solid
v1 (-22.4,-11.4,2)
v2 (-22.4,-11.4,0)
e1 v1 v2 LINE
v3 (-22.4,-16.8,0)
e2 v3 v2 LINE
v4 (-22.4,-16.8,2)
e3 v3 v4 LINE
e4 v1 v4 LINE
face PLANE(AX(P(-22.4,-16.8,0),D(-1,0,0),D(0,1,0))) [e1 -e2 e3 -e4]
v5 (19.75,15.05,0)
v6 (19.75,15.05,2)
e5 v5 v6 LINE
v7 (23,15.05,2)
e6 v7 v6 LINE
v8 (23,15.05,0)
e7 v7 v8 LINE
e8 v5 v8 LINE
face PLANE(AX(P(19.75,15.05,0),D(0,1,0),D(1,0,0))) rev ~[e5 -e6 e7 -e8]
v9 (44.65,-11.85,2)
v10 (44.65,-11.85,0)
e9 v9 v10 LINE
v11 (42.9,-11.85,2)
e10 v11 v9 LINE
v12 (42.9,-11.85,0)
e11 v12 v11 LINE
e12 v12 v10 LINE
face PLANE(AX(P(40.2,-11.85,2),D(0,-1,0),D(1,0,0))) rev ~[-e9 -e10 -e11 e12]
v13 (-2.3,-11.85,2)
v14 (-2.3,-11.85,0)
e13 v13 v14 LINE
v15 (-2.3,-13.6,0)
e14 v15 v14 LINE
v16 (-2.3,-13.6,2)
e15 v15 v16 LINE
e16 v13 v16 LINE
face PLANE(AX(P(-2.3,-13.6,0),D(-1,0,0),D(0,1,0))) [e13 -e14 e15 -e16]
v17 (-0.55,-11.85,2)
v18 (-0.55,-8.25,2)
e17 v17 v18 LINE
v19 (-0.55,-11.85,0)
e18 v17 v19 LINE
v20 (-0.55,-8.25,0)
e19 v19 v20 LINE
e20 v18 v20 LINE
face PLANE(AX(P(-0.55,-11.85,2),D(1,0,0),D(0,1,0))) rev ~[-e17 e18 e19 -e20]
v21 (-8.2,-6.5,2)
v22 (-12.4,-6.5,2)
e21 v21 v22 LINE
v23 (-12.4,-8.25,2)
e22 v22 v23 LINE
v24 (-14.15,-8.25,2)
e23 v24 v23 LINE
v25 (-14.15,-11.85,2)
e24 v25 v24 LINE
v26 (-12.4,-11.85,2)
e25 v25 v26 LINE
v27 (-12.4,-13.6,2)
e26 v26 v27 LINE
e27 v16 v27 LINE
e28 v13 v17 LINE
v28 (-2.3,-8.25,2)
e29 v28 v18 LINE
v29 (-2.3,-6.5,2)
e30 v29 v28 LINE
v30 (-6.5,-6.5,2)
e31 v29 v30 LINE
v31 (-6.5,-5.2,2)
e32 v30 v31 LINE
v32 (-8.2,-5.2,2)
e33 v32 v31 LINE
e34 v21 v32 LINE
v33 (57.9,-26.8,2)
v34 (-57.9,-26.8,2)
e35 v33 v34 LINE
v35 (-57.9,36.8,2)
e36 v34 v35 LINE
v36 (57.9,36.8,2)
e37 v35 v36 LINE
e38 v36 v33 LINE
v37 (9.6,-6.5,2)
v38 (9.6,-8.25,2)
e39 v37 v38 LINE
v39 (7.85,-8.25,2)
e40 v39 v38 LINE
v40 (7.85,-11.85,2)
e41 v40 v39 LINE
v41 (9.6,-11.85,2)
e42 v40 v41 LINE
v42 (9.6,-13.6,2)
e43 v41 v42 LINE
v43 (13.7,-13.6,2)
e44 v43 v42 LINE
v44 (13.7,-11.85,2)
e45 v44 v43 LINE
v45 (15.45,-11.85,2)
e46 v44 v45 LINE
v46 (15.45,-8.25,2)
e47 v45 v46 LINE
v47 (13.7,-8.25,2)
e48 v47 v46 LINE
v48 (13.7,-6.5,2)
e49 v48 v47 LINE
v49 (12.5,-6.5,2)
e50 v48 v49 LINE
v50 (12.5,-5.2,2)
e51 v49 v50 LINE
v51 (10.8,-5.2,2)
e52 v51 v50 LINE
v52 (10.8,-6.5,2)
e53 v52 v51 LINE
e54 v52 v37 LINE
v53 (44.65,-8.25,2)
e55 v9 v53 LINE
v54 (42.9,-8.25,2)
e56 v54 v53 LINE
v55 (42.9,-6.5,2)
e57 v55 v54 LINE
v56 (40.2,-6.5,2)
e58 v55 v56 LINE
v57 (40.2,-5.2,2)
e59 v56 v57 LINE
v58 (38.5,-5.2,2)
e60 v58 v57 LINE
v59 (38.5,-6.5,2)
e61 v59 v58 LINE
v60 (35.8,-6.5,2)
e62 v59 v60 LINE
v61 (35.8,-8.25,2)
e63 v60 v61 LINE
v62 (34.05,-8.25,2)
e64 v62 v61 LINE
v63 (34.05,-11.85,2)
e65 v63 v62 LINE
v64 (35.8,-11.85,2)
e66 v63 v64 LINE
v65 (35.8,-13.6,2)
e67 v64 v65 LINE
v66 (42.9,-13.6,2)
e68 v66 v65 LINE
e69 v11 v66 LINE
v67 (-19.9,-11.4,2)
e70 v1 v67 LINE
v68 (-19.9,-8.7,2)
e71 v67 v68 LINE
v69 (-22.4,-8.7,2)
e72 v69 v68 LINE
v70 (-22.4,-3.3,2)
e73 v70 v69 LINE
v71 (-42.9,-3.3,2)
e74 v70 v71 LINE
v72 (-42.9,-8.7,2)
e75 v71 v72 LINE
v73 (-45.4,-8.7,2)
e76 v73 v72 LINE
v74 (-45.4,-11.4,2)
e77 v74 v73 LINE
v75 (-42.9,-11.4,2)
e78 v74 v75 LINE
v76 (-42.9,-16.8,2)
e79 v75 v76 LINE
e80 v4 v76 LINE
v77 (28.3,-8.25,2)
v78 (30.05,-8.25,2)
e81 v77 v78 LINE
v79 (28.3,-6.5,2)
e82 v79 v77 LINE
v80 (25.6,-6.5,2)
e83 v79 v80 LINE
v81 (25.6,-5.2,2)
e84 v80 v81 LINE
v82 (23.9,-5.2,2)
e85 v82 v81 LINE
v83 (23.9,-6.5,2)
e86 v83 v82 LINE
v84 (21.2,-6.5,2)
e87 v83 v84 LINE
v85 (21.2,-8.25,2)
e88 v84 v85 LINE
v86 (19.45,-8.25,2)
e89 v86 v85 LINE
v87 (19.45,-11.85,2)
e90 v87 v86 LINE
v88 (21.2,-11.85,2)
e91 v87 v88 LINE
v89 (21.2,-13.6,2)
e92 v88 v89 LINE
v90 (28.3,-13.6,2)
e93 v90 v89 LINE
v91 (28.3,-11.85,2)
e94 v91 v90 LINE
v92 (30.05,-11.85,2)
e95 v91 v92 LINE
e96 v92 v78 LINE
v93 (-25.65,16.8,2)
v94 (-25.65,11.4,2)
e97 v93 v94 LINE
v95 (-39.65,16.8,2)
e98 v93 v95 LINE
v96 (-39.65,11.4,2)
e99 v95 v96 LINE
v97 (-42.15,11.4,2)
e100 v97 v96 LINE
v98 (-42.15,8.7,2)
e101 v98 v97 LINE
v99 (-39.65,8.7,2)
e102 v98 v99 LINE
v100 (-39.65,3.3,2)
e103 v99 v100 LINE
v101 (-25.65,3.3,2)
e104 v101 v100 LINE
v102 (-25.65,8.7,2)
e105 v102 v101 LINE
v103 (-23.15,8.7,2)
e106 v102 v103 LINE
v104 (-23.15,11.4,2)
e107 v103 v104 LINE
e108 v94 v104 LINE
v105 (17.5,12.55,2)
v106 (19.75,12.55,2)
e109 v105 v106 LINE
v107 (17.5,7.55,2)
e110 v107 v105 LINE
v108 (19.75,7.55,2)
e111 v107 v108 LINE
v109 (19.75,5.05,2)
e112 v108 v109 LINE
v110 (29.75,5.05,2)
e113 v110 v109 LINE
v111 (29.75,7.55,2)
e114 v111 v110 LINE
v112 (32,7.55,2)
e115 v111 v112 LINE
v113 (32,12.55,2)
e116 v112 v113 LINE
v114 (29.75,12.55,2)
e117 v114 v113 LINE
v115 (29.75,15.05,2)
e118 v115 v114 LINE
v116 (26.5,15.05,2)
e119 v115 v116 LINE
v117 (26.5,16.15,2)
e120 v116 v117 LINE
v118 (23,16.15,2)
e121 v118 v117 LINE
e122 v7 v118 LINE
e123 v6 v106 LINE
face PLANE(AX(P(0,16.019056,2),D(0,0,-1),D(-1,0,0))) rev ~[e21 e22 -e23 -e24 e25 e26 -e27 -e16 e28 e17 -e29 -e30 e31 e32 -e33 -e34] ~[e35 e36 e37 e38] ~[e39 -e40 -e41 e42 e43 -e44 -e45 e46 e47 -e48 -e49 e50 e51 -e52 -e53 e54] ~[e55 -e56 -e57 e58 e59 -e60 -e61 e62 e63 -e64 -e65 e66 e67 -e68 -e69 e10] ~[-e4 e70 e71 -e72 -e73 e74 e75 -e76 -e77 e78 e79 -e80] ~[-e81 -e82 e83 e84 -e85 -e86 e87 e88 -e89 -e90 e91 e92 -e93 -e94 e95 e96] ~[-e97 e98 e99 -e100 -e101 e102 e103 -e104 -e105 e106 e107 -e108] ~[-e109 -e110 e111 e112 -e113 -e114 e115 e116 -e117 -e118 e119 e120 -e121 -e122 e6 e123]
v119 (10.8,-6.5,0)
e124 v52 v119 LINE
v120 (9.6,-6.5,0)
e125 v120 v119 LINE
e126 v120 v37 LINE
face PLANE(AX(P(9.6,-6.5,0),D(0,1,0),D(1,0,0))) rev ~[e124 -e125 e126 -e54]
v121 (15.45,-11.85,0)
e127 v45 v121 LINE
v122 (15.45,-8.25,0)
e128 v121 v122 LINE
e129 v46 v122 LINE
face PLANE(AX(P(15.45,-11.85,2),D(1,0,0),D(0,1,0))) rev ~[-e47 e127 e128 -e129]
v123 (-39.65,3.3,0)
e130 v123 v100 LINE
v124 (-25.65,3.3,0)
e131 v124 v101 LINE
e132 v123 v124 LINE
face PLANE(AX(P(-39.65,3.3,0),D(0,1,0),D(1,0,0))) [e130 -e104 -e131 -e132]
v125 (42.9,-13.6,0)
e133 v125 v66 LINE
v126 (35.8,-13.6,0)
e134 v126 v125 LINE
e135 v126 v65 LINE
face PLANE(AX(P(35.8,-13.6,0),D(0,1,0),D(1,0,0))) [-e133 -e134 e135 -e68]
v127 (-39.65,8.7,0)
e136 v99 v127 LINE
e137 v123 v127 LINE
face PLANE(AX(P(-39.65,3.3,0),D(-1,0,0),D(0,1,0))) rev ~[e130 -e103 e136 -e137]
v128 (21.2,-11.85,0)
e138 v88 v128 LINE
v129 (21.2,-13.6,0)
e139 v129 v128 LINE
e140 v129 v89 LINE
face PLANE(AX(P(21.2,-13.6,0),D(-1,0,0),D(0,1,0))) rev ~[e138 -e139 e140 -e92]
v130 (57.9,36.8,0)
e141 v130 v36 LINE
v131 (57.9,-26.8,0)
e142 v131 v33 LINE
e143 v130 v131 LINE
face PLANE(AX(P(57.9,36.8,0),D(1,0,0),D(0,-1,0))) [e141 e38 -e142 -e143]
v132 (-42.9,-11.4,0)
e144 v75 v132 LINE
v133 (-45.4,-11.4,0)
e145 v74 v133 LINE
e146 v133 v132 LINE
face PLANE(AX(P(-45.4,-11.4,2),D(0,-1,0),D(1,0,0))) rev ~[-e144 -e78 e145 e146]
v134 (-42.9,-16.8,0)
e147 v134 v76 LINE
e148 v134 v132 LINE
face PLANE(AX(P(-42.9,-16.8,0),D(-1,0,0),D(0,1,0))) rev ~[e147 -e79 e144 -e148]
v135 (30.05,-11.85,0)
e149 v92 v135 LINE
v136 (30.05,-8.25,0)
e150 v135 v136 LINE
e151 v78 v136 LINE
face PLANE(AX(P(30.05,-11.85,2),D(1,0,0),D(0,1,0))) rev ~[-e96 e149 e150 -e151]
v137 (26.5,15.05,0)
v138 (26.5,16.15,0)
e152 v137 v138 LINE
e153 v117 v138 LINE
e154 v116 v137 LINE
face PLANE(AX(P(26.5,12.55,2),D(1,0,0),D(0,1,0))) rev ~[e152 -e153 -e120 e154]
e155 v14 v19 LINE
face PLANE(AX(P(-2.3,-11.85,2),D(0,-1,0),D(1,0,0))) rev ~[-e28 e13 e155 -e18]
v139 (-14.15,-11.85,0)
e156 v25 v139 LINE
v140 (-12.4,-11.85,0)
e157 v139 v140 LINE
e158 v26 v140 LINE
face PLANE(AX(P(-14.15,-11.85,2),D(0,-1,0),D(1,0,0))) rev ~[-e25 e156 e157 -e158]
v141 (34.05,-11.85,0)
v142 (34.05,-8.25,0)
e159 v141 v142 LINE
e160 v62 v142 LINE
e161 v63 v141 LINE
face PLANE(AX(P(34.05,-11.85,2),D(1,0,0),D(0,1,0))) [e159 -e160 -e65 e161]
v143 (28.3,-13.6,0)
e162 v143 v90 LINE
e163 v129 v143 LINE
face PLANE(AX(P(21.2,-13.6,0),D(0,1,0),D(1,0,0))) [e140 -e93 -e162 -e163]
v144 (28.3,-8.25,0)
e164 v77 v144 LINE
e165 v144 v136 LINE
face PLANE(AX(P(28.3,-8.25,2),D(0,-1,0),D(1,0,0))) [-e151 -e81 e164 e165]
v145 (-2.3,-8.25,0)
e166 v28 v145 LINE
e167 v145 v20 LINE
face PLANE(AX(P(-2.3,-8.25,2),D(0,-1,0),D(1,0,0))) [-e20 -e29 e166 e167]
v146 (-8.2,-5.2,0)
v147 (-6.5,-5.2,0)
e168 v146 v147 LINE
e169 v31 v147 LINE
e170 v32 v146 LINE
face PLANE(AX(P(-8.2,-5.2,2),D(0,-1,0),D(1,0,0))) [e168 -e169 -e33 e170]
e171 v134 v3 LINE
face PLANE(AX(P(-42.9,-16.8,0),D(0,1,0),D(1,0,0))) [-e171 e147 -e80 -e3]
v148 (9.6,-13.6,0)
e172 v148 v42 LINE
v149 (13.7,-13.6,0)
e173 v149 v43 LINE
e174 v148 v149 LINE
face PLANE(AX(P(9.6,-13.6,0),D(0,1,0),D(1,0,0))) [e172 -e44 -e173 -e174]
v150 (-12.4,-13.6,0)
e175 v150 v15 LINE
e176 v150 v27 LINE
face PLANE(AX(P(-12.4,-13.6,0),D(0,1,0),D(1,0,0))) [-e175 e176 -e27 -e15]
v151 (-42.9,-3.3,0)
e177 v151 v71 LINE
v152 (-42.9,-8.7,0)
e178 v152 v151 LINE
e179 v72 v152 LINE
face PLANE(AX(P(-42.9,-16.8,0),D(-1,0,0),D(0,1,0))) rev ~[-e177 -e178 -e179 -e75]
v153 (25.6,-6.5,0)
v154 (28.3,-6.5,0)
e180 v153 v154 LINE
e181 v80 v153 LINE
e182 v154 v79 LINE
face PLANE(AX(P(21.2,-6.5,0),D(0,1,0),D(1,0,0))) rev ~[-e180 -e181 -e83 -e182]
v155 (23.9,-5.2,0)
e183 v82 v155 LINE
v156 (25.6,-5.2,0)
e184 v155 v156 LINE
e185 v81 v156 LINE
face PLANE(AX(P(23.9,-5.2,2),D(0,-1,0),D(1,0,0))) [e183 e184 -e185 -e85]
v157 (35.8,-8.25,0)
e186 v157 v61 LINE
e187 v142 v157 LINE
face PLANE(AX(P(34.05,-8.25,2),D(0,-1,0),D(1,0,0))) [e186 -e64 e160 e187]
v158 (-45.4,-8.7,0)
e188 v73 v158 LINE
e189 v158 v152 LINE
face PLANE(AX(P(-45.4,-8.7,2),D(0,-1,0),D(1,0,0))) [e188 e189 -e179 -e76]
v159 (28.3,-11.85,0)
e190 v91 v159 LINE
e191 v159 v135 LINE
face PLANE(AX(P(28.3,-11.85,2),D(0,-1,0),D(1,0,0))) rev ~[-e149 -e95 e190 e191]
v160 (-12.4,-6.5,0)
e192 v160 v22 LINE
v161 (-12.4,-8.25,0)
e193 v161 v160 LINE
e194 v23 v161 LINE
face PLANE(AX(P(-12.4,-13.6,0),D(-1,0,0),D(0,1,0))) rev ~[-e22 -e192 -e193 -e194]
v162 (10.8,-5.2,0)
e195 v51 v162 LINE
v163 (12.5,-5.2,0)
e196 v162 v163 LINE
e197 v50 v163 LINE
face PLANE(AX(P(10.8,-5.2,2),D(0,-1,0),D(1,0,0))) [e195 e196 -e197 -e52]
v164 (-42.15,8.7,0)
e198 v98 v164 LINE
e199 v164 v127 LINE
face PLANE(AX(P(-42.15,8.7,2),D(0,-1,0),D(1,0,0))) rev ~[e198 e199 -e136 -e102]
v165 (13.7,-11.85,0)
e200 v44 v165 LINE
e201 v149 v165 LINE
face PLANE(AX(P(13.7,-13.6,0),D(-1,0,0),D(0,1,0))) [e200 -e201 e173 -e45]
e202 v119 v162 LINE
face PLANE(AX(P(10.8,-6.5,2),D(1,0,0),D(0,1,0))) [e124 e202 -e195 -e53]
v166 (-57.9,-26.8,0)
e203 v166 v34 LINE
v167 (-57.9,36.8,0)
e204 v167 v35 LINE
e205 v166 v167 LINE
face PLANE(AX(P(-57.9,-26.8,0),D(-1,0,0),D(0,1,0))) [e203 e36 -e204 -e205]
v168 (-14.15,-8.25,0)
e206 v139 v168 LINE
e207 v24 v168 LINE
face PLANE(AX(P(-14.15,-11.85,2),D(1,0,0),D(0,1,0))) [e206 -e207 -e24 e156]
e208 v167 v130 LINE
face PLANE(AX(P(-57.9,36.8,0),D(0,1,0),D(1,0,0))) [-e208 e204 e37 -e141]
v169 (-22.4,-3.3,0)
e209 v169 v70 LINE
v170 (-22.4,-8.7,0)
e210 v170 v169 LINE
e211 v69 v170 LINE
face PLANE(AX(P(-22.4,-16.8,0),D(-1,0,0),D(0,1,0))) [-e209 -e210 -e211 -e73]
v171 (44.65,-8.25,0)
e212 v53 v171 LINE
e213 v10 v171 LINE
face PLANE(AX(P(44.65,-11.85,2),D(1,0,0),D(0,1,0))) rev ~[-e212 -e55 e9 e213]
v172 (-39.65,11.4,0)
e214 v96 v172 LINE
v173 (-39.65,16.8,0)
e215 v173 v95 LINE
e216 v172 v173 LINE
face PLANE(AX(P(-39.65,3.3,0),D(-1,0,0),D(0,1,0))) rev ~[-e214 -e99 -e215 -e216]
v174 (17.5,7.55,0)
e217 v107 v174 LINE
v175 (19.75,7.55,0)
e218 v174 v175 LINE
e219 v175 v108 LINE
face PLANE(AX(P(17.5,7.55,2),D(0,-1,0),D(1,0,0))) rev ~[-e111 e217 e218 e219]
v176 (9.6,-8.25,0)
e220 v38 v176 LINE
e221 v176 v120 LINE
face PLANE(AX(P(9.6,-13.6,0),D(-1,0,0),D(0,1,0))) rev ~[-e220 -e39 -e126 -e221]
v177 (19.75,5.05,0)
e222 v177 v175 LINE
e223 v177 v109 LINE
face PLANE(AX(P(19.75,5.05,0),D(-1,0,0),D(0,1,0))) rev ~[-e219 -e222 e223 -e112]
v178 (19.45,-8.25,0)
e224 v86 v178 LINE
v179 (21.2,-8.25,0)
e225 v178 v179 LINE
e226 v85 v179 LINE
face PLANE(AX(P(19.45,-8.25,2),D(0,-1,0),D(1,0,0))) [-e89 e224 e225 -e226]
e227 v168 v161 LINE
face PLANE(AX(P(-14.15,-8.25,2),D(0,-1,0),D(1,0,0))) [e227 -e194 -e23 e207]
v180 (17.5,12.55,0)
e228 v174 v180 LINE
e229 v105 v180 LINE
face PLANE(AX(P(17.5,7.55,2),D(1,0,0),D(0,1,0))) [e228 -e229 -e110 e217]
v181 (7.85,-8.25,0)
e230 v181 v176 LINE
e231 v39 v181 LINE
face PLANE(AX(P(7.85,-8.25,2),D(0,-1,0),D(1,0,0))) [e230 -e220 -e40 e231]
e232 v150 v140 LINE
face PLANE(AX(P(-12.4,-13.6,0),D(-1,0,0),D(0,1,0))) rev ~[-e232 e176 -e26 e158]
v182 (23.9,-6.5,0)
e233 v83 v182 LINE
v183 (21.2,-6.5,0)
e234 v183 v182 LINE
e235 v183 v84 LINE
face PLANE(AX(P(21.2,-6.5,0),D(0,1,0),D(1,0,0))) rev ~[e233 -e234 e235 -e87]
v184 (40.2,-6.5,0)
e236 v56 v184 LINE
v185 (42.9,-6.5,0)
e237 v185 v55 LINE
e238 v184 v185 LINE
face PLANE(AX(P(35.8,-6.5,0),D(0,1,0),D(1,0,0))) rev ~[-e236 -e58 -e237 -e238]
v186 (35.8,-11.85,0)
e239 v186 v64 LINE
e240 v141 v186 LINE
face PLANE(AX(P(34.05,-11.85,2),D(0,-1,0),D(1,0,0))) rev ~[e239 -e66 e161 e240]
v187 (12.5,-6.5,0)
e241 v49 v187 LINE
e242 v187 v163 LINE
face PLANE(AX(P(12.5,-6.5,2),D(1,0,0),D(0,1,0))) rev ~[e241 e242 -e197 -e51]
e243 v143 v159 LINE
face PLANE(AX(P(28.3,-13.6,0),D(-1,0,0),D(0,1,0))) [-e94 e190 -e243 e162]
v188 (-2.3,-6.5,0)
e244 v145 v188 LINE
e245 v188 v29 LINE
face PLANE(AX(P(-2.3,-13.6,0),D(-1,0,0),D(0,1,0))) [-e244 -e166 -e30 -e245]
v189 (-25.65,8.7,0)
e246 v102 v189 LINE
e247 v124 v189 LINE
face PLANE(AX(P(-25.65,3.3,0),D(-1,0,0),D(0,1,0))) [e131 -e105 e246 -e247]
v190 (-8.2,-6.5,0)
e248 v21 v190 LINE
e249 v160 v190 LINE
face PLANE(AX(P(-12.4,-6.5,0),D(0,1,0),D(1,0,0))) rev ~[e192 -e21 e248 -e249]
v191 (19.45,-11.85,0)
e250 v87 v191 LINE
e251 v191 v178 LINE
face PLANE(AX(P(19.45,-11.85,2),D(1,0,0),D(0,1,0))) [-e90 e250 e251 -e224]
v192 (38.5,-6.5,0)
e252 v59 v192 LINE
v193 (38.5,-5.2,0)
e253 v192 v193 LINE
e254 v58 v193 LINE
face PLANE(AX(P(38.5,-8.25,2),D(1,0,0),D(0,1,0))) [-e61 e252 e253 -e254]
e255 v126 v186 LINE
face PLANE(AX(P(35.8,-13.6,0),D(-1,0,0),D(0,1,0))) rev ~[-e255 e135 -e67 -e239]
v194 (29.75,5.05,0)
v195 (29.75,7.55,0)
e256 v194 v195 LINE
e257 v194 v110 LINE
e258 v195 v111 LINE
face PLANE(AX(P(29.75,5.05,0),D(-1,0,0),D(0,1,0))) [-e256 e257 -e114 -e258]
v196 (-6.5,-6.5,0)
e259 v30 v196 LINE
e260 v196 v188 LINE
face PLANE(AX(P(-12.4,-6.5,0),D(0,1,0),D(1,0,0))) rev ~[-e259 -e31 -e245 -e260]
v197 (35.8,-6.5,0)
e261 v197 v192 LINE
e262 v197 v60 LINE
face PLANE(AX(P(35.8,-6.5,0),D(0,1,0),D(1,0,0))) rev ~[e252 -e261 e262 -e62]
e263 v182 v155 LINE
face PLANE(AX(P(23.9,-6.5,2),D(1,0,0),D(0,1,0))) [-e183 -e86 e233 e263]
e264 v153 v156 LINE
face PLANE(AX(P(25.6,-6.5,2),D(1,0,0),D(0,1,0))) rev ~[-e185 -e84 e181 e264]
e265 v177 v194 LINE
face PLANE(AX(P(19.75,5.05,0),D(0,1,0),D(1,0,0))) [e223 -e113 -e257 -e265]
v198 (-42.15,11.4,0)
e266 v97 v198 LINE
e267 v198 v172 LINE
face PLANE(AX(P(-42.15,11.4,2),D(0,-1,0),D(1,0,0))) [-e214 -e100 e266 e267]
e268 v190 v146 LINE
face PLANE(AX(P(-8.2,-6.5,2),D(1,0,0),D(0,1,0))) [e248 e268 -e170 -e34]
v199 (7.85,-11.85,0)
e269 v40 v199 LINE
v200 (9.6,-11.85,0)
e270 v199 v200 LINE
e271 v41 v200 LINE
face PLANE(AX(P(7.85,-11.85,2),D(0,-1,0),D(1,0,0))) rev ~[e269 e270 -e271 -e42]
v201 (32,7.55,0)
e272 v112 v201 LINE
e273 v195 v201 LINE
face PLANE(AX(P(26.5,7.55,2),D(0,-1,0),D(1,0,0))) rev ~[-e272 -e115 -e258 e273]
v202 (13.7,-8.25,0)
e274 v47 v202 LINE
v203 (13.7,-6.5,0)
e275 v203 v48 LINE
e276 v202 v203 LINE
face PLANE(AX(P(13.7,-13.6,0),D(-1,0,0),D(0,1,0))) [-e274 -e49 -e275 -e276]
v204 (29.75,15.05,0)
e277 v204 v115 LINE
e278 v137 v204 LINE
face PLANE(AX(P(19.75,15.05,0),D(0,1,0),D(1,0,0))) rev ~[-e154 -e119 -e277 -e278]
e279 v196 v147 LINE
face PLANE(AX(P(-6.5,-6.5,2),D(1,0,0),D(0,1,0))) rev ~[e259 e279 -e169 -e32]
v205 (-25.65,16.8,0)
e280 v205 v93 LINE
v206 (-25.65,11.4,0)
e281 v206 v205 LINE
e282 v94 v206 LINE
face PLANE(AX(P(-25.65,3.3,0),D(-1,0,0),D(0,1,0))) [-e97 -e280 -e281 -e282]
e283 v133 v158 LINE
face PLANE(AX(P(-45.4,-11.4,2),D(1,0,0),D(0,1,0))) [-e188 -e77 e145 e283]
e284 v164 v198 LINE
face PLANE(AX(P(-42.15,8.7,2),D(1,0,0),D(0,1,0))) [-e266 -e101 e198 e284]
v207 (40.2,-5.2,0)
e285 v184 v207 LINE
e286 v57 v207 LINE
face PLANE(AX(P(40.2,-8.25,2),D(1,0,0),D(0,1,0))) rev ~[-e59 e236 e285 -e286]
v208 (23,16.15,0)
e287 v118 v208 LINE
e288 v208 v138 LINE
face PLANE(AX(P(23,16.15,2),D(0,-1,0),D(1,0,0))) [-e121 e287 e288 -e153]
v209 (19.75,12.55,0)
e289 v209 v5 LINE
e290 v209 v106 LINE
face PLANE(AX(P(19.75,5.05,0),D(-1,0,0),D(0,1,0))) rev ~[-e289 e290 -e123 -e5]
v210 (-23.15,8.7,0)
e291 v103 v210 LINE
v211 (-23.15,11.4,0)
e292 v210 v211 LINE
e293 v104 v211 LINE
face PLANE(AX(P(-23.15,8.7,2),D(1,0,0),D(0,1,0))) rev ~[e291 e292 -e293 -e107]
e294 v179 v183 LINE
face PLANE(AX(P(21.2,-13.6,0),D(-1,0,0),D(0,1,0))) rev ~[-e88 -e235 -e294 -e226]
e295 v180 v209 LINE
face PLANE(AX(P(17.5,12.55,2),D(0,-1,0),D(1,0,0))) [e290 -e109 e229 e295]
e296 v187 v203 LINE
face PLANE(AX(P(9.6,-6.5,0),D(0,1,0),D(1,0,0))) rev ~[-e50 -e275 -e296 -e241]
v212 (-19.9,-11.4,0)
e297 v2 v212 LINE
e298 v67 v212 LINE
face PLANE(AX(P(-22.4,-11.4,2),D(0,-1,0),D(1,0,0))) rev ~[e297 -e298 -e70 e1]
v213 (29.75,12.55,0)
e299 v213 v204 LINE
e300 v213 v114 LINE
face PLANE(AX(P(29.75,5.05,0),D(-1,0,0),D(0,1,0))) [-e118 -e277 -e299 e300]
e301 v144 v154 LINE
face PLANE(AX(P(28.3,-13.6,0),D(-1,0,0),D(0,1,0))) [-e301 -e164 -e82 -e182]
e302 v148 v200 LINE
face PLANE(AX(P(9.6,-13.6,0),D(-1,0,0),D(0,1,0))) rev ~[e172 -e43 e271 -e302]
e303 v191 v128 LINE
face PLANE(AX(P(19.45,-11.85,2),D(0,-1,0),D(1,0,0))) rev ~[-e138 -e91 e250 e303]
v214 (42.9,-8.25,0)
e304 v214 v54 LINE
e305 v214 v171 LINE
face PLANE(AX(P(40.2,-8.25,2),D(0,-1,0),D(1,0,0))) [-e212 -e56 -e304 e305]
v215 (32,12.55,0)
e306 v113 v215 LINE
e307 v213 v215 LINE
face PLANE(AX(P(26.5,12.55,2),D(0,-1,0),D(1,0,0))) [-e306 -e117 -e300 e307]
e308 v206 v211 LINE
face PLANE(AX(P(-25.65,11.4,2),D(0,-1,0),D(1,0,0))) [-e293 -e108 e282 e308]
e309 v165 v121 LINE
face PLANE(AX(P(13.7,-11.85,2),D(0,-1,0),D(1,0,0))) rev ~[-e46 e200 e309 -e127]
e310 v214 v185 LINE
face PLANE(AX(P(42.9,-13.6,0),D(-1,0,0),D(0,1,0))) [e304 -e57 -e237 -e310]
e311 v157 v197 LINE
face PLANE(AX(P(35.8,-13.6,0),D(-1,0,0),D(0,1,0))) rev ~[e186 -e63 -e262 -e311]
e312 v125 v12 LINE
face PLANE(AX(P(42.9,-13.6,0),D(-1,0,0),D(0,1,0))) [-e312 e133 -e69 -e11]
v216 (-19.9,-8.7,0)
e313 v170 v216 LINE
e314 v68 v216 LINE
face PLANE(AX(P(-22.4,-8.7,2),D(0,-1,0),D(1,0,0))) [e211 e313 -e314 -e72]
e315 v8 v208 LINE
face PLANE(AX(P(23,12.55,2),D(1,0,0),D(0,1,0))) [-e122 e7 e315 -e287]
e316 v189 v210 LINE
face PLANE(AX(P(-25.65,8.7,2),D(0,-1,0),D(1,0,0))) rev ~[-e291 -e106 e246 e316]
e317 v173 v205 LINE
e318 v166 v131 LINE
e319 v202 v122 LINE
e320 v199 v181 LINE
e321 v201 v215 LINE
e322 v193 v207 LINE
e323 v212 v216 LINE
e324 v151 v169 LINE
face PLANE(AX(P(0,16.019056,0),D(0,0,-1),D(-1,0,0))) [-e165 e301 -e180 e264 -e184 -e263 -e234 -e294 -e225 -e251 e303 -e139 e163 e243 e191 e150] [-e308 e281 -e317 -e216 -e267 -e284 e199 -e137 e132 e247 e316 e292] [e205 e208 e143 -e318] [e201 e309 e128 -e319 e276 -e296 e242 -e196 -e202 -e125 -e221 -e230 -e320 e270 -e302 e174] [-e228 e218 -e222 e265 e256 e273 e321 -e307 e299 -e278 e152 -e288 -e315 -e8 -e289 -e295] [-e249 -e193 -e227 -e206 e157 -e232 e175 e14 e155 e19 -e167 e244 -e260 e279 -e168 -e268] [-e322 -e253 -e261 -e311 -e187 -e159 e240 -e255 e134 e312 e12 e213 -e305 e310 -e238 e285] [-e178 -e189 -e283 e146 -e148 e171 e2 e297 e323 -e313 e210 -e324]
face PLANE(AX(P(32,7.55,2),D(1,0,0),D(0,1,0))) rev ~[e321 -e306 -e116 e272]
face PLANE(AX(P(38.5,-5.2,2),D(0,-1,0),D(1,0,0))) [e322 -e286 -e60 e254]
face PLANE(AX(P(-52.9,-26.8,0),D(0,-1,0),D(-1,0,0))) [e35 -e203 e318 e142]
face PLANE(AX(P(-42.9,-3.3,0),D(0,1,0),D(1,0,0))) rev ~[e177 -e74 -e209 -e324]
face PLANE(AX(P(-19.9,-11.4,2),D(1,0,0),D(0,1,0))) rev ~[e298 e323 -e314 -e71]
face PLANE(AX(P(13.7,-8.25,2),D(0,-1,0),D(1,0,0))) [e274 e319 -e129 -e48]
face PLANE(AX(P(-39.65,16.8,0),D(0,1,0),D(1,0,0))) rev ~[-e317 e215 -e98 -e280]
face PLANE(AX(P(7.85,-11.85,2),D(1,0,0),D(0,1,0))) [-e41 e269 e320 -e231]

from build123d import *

# Parameters (mm, degrees)
SKETCH1_W           = 105.8
SKETCH1_H           = 53.6
BOSS_EXTRUDE1_DEPTH = 2
SKETCH2_W           = 4.1
SKETCH2_H           = 7.1
SKETCH2_W_2         = 20.5
SKETCH2_H_2         = 13.5
SKETCH2_W_3         = 10
SKETCH2_H_3         = 10
SKETCH2_W_4         = 7.1
SKETCH2_W_5         = 14
SKETCH2_W_6         = 10.1
CUT_EXTRUDE2_DEPTH  = 60.335065518
SKETCH4_W           = 2.5
SKETCH4_H           = 2.7
SKETCH4_W_2         = 1.75
SKETCH4_H_2         = 3.6
SKETCH4_W_3         = 1.7
SKETCH4_H_3         = 1.3
SKETCH4_W_4         = 10.6
SKETCH4_H_4         = 8.4
SKETCH4_W_5         = 3.5
SKETCH4_H_5         = 11.1
SKETCH4_W_6         = 14.5
SKETCH4_H_6         = 5
CUT_EXTRUDE5_DEPTH  = 10
BOSS_EXTRUDE2_DEPTH = 2


with BuildPart() as part:
    # Sketch1 → Boss-Extrude1 (new body)
    with BuildSketch(Plane.XY):
        Rectangle(SKETCH1_W, SKETCH1_H)
    extrude(amount=BOSS_EXTRUDE1_DEPTH)

    # Sketch2 → Cut-Extrude2 (cut, through all)
    with BuildSketch(Plane.XY):
        with Locations((11.65, -10.05)):
            Rectangle(SKETCH2_W, SKETCH2_H)
        with Locations((-32.65, -10.05)):
            Rectangle(SKETCH2_W_2, SKETCH2_H_2)
        with Locations((24.75, 10.05)):
            Rectangle(SKETCH2_W_3, SKETCH2_H_3)
        with Locations((39.35, -10.05)):
            Rectangle(SKETCH2_W_4, SKETCH2_H)
        with Locations((-32.65, 10.05)):
            Rectangle(SKETCH2_W_5, SKETCH2_H_2)
        with Locations((24.75, -10.05)):
            Rectangle(SKETCH2_W_4, SKETCH2_H)
        with Locations((-7.35, -10.05)):
            Rectangle(SKETCH2_W_6, SKETCH2_H)
    extrude(amount=CUT_EXTRUDE2_DEPTH, mode=Mode.SUBTRACT)

    # Sketch4 → Cut-Extrude5 (cut)
    with BuildSketch(Plane.XY.offset(2)):
        with Locations((-24.4, 10.05)):
            Rectangle(SKETCH4_W, SKETCH4_H)
        with Locations((-40.9, 10.05)):
            Rectangle(SKETCH4_W, SKETCH4_H)
        with Locations((-44.15, -10.05)):
            Rectangle(SKETCH4_W, SKETCH4_H)
        with Locations((-21.15, -10.05)):
            Rectangle(SKETCH4_W, SKETCH4_H)
        with Locations((-13.275, -10.05)):
            Rectangle(SKETCH4_W_2, SKETCH4_H_2)
        with Locations((-1.425, -10.05)):
            Rectangle(SKETCH4_W_2, SKETCH4_H_2)
        with Locations((-7.35, -5.85)):
            Rectangle(SKETCH4_W_3, SKETCH4_H_3)
        with Locations((11.65, -5.85)):
            Rectangle(SKETCH4_W_3, SKETCH4_H_3)
        with Locations((14.575, -10.05)):
            Rectangle(SKETCH4_W_2, SKETCH4_H_2)
        with Locations((8.725, -10.05)):
            Rectangle(SKETCH4_W_2, SKETCH4_H_2)
        with Locations((29.175, -10.05)):
            Rectangle(SKETCH4_W_2, SKETCH4_H_2)
        with Locations((20.325, -10.05)):
            Rectangle(SKETCH4_W_2, SKETCH4_H_2)
        with Locations((24.75, -5.85)):
            Rectangle(SKETCH4_W_3, SKETCH4_H_3)
        with Locations((39.35, -10.05)):
            Rectangle(SKETCH4_W_4, SKETCH4_H_2)
        with Locations((39.35, -9.4)):
            Rectangle(SKETCH4_W_3, SKETCH4_H_4)
        with Locations((24.75, 10.6)):
            Rectangle(SKETCH4_W_5, SKETCH4_H_5)
        with Locations((24.75, 10.05)):
            Rectangle(SKETCH4_W_6, SKETCH4_H_6)
    extrude(amount=-CUT_EXTRUDE5_DEPTH, mode=Mode.SUBTRACT)

    # Sketch5 → Boss-Extrude2 (add)
    with BuildSketch(Plane.XY):
        Polygon((-52.9, 26.8), (-52.9, -26.8), (-57.9, -26.8), (-57.9, 36.8), (57.9, 36.8), (57.9, -26.8), (52.9, -26.8), (52.9, 26.8), align=None)
    extrude(amount=BOSS_EXTRUDE2_DEPTH)


solid = part.part
